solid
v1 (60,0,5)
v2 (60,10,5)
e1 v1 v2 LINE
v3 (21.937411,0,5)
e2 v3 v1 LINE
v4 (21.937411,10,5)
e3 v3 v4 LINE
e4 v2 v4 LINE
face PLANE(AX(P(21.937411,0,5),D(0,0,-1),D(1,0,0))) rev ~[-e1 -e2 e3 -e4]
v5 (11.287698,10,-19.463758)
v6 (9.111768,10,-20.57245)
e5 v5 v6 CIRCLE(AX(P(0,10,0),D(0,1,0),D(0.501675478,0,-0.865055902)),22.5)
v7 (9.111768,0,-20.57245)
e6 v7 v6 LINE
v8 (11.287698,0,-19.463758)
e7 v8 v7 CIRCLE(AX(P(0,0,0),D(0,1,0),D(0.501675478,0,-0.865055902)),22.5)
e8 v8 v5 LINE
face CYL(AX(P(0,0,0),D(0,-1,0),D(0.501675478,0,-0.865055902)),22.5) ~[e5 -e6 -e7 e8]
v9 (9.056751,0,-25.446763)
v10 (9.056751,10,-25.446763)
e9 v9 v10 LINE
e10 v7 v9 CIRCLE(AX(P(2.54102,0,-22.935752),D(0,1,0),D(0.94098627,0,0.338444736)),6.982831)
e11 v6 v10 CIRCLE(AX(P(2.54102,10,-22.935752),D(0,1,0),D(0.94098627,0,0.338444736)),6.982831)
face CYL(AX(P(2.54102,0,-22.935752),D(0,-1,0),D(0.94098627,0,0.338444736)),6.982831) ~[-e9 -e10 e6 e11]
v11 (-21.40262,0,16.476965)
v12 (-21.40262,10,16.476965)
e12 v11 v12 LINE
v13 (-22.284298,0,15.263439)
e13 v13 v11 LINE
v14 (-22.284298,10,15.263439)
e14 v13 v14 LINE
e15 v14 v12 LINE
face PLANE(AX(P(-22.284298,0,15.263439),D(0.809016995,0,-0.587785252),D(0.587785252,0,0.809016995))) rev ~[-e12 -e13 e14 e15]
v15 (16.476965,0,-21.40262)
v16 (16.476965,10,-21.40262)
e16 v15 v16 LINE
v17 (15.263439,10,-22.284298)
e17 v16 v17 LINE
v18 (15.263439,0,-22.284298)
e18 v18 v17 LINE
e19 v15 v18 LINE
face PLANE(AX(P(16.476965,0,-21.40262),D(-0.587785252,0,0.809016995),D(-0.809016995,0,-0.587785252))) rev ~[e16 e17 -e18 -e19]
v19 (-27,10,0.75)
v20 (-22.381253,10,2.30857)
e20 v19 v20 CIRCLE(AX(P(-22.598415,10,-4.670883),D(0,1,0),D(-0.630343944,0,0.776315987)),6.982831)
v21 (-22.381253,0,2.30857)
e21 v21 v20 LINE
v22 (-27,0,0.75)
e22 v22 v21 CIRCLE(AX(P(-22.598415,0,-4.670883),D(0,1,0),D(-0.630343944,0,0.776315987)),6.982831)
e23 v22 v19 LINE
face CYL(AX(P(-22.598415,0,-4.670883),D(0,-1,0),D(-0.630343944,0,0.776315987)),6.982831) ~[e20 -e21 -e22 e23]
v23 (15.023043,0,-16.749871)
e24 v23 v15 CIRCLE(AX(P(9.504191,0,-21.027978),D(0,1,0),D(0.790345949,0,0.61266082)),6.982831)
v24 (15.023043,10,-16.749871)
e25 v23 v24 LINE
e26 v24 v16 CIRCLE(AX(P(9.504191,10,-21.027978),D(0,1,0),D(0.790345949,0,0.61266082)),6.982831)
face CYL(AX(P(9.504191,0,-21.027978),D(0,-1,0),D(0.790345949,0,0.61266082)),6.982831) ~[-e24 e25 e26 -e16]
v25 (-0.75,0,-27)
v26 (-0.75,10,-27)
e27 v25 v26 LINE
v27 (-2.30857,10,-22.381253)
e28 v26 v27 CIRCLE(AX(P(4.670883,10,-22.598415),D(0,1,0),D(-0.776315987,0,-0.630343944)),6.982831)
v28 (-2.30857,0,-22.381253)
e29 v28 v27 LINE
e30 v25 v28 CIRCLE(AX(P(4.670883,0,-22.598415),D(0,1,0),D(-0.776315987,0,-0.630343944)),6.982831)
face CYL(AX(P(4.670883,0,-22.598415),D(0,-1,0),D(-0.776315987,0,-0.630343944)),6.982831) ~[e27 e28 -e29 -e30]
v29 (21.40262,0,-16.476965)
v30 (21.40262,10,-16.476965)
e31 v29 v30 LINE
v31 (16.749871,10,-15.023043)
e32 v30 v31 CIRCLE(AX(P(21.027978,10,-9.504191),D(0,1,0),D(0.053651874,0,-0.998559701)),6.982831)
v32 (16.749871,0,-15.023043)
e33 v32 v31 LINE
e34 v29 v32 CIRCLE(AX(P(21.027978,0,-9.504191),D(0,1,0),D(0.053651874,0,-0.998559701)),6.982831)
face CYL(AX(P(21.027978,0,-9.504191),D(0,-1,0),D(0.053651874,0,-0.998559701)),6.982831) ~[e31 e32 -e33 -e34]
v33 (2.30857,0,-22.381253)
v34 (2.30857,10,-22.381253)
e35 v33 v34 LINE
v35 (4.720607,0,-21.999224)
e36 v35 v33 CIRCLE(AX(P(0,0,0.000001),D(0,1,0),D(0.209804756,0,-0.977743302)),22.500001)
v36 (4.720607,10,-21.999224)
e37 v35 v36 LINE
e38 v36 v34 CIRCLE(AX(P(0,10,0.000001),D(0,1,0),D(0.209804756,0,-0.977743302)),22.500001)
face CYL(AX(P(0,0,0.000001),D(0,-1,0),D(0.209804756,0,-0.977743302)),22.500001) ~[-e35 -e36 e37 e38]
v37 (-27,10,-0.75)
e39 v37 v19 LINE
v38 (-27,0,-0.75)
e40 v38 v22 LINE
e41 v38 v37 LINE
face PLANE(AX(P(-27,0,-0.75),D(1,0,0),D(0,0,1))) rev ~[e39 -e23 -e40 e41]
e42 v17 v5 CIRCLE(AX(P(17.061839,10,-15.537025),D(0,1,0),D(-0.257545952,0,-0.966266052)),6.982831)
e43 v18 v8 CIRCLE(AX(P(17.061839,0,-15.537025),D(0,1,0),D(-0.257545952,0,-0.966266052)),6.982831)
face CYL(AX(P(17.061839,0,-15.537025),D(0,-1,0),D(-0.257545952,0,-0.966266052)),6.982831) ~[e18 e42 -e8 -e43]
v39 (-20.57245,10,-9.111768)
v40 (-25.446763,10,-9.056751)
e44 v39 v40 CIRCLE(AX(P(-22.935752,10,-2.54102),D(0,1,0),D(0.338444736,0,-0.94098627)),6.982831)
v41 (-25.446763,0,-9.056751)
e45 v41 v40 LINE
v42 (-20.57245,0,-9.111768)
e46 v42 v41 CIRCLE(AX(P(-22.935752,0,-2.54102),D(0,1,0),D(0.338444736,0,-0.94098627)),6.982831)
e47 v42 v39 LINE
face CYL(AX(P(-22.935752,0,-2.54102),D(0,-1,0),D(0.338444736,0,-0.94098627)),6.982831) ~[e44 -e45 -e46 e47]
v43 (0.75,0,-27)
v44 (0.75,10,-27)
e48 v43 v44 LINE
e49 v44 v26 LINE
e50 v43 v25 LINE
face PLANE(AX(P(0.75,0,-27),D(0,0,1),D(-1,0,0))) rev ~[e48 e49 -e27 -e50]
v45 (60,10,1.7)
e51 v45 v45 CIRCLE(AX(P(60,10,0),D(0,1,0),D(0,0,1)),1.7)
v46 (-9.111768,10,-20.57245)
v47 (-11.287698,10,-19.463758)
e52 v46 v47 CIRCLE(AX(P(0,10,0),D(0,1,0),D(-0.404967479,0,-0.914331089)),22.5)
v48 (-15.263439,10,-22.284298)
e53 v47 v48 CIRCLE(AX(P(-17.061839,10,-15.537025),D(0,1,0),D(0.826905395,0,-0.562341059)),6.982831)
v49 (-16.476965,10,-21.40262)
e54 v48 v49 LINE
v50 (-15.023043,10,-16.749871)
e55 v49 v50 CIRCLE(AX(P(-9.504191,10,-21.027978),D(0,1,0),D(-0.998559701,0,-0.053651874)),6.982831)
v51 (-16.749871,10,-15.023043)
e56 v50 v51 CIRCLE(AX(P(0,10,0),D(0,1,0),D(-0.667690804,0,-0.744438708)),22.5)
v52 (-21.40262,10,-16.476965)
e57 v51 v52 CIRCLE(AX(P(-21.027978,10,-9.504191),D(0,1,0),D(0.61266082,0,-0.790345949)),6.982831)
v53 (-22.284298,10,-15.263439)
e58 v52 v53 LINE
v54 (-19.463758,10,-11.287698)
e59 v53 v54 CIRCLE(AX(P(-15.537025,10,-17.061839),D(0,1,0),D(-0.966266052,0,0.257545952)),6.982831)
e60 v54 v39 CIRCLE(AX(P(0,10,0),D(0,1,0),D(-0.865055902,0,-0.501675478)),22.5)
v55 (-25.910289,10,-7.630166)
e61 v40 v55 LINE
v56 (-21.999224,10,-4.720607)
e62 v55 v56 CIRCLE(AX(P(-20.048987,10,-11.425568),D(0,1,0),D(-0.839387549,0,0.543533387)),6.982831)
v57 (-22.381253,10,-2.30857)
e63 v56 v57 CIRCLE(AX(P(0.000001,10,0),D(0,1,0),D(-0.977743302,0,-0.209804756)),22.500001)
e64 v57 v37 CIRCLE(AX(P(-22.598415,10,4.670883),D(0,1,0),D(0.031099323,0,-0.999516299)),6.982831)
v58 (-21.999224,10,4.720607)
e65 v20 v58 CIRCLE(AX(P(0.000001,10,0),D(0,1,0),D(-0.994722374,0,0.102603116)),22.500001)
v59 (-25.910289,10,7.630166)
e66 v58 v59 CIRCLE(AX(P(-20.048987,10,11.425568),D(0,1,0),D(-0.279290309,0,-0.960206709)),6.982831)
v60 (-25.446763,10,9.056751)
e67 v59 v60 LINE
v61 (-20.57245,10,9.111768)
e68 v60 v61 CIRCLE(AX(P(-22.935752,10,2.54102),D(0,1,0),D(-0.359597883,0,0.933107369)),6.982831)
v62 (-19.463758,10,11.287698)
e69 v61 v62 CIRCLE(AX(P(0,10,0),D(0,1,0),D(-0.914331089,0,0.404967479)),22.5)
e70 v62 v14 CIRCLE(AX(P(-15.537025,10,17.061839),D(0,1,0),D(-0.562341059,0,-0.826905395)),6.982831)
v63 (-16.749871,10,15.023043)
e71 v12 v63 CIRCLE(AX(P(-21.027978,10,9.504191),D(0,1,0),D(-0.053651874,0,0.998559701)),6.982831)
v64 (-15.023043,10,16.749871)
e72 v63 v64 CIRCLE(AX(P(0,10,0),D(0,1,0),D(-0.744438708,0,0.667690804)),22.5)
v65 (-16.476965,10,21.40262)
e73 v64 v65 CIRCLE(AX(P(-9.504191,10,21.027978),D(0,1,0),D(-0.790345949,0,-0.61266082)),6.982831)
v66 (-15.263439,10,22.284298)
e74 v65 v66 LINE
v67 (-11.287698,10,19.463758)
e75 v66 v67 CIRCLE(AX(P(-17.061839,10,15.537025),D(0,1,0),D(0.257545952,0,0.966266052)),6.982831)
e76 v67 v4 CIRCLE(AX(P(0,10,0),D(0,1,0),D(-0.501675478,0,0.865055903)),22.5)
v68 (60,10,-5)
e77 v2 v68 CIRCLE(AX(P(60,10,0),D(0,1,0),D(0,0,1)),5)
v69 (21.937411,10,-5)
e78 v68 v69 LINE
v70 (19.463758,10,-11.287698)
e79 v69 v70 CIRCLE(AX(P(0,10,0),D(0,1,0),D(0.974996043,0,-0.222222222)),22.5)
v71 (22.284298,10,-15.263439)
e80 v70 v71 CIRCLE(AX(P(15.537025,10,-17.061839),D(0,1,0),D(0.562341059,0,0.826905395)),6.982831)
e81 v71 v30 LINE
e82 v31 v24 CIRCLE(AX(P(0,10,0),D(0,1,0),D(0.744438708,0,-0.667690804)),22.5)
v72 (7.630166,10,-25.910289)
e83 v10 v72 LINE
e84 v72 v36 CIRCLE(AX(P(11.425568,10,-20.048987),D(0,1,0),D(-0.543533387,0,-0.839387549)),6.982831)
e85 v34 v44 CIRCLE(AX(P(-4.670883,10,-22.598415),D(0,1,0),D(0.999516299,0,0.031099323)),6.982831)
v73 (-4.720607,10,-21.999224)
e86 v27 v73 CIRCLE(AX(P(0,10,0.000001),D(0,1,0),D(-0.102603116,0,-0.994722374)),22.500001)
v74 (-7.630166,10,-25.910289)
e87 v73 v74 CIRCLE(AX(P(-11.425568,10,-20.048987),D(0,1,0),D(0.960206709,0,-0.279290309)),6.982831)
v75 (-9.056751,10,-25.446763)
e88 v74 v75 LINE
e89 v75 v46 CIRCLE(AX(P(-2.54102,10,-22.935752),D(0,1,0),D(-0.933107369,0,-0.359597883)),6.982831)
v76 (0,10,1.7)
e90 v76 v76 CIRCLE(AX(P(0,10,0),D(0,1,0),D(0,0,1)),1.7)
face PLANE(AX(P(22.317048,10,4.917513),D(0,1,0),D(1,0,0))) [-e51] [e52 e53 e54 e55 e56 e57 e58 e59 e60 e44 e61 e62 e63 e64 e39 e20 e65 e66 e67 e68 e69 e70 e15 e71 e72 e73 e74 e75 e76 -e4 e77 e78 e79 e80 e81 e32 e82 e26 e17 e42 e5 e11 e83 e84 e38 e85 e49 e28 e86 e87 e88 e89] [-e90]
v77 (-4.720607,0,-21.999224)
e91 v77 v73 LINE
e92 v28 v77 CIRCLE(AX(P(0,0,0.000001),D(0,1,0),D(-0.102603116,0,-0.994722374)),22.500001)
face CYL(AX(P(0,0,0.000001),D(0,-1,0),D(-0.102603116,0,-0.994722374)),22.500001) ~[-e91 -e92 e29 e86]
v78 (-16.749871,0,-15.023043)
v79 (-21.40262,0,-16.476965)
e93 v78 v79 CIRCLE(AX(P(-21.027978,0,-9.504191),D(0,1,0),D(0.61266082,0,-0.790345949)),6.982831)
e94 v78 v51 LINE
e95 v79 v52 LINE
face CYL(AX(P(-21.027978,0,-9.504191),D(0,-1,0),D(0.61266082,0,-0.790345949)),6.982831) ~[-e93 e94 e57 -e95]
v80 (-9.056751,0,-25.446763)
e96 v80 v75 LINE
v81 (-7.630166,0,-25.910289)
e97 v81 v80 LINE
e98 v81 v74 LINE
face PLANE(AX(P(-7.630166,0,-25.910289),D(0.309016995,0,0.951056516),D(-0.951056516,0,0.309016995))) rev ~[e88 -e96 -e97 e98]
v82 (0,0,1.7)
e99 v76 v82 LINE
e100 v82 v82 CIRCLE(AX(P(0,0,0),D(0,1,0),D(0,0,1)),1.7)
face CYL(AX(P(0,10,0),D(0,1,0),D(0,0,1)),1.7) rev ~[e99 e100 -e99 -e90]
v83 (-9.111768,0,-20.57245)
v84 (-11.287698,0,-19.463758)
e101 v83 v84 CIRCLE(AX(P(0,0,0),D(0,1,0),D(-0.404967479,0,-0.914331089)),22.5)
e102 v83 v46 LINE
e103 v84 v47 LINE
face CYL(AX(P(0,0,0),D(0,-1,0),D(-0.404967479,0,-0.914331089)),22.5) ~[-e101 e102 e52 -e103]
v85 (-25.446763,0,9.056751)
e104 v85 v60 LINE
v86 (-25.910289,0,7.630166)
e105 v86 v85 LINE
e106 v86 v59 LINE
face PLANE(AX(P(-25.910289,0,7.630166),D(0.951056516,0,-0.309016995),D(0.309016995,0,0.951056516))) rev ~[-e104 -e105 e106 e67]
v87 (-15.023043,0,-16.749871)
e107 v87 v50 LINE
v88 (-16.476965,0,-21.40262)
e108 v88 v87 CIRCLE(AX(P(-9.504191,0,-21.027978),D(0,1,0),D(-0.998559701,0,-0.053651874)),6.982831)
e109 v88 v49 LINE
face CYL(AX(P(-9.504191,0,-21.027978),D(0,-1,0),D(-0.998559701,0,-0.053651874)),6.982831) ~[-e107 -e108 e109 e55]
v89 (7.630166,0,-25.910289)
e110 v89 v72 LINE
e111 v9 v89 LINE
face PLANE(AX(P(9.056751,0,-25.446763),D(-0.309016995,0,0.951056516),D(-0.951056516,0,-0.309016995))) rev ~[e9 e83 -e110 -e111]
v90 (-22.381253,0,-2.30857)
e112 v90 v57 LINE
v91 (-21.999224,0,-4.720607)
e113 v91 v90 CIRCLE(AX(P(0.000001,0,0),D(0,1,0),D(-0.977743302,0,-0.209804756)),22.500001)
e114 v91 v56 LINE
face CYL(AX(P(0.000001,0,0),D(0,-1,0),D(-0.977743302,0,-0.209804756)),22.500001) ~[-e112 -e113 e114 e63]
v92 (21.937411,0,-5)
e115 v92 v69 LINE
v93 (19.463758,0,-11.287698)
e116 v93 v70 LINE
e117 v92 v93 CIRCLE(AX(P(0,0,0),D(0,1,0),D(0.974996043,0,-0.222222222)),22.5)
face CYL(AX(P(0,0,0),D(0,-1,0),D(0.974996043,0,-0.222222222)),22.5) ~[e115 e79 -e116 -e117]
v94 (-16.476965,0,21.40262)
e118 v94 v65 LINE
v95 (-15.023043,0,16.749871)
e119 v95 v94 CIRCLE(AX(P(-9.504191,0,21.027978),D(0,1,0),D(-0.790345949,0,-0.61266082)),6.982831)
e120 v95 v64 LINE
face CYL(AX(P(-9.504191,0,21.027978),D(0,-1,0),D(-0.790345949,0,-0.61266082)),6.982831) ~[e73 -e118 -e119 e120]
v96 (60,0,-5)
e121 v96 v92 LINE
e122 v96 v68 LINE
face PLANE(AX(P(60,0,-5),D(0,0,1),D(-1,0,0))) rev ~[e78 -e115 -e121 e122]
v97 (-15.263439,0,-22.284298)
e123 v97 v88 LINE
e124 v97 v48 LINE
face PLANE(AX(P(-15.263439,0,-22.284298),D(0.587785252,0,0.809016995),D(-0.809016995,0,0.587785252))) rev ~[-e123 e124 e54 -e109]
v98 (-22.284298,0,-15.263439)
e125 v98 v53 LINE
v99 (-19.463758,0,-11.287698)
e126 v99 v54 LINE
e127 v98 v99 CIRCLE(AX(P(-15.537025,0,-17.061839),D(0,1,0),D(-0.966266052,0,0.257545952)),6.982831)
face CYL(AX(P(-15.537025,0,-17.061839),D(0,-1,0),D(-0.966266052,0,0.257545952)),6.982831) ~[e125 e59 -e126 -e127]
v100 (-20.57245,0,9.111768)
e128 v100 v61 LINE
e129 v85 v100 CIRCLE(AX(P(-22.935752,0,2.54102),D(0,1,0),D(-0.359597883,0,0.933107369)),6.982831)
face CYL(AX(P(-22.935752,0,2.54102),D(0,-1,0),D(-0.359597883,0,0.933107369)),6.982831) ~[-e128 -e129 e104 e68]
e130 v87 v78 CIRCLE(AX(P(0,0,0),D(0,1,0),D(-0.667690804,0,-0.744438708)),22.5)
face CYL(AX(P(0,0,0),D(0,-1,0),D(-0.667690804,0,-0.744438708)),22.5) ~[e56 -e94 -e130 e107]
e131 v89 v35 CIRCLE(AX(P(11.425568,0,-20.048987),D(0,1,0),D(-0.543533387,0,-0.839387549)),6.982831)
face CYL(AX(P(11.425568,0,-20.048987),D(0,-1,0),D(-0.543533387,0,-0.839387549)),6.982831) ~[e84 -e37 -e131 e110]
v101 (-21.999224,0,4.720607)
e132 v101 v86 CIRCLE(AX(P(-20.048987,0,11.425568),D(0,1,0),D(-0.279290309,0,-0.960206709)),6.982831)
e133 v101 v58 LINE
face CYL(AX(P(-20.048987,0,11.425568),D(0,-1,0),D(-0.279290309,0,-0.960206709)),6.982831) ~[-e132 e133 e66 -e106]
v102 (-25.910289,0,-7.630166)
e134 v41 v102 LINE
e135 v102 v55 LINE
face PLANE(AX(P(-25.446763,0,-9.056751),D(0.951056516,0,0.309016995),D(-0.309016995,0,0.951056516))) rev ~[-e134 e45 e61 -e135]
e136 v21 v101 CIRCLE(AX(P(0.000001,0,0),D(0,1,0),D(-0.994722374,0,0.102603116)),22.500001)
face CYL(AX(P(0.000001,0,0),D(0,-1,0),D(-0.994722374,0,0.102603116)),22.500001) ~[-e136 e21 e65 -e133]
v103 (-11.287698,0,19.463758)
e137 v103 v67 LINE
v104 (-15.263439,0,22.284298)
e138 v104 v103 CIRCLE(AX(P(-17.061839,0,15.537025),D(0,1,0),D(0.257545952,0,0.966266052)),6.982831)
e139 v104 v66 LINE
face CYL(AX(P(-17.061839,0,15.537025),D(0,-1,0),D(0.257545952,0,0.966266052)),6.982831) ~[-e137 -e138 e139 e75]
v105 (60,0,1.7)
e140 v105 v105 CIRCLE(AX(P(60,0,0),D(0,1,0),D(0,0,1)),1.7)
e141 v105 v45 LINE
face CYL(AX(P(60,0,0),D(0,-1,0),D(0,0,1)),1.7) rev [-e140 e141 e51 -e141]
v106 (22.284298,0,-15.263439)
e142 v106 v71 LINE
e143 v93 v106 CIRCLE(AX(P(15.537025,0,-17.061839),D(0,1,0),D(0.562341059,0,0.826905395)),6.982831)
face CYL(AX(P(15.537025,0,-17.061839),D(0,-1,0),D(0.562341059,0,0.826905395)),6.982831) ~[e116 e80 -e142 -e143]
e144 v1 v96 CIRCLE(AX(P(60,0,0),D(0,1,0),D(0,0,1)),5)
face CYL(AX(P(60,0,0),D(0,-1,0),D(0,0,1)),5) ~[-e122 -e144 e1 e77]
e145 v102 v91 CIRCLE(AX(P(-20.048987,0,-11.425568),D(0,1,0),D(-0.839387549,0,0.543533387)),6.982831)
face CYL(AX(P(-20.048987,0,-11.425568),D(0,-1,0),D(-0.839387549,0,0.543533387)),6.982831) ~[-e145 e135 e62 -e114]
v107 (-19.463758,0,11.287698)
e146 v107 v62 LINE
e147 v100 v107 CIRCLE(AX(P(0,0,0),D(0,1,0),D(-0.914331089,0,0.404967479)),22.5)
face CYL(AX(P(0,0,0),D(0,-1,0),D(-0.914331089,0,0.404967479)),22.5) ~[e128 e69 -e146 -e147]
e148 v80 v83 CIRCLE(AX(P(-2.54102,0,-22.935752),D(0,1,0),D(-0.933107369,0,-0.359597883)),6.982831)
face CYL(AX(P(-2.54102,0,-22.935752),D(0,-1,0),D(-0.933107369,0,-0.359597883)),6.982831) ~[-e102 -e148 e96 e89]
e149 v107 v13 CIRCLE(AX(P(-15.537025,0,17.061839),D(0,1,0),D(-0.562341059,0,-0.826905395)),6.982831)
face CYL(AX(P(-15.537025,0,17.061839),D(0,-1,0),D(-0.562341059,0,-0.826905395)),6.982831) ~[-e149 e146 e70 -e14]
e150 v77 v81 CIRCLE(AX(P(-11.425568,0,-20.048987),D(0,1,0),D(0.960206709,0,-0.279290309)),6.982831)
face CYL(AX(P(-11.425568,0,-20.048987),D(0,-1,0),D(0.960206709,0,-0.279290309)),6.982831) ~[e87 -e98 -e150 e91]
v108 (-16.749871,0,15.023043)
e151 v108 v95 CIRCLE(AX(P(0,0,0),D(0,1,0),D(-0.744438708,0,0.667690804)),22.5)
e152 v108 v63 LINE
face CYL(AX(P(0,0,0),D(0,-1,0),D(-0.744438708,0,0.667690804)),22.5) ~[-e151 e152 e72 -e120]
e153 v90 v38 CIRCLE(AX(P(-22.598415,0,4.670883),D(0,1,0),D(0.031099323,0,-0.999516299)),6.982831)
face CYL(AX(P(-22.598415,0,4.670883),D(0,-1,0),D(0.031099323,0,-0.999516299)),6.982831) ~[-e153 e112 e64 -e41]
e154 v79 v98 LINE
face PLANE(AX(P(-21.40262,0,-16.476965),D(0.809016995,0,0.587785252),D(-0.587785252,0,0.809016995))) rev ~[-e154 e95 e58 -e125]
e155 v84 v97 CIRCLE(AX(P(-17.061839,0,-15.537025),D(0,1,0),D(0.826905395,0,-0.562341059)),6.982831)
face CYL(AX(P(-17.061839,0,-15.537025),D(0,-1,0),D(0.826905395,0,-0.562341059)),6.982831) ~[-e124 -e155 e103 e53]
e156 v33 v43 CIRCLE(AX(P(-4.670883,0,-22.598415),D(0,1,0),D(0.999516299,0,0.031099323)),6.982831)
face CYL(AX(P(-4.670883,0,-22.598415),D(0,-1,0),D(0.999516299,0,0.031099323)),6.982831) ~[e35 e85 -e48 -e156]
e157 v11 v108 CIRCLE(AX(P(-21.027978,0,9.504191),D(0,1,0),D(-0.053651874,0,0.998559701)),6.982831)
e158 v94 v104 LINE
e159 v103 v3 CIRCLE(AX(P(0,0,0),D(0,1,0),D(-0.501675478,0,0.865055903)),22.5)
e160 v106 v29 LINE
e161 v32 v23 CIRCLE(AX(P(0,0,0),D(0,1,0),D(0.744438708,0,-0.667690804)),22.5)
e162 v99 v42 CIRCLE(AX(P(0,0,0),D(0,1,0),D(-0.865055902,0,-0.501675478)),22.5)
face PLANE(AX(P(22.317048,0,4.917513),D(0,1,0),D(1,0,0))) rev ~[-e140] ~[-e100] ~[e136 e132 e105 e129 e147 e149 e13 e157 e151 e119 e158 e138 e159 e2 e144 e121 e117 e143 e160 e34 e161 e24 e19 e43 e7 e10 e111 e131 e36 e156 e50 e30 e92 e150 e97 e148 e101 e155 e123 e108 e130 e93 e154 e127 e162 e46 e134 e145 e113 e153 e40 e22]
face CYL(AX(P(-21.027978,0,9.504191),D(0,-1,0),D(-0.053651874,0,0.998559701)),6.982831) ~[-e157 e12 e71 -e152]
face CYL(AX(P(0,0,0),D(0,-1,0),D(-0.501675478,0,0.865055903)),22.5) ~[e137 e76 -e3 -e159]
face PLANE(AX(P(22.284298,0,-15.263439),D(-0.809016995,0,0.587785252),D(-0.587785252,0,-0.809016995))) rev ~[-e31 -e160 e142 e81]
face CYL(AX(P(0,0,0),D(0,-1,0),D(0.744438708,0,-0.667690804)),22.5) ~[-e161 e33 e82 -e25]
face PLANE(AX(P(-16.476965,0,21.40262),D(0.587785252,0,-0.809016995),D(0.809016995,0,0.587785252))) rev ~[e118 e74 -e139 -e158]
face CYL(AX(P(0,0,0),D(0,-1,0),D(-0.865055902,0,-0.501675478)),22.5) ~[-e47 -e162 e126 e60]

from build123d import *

# Parameters (mm, degrees)
SKETCH2_R           = 1.7
BOSS_EXTRUDE1_DEPTH = 10
BOSS_EXTRUDE2_DEPTH = 10
SKETCH3_R           = 1.7
CUT_EXTRUDE1_DEPTH  = 72.091490349


with BuildPart() as part:
    # Sketch2 → Boss-Extrude1 (new body)
    with BuildSketch(Plane(origin=(0, 0, 0), x_dir=(1, 0, 0), z_dir=(0, 1, 0))):
        with BuildLine():
            ThreePointArc((60, -5), (65, 0), (60, 5))
            Line((60, 5), (21.937410968, 5))
            ThreePointArc((21.937410968, 5), (20.937955519, 8.237233678), (19.463757806, 11.287698262))
            ThreePointArc((19.463757806, 11.287698262), (21.232218388, 13.021454794), (22.284297787, 15.263439066))
            Line((22.284297787, 15.263439066), (21.402619909, 16.476964558))
            ThreePointArc((21.402619909, 16.476964558), (18.945255744, 16.16918883), (16.749870923, 15.023043103))
            ThreePointArc((16.749870923, 15.023043103), (15.909902577, 15.909902577), (15.023043103, 16.749870923))
            ThreePointArc((15.023043103, 16.749870923), (16.16918883, 18.945255744), (16.476964558, 21.402619909))
            Line((16.476964558, 21.402619909), (15.263439066, 22.284297787))
            ThreePointArc((15.263439066, 22.284297787), (13.021454794, 21.232218388), (11.287698262, 19.463757806))
            ThreePointArc((11.287698262, 19.463757806), (10.214786244, 20.047646794), (9.111768269, 20.572449514))
            ThreePointArc((9.111768269, 20.572449514), (9.523406413, 23.014563062), (9.056751235, 25.446763194))
            Line((9.056751235, 25.446763194), (7.630166461, 25.910288686))
            ThreePointArc((7.630166461, 25.910288686), (5.823023123, 24.216890476), (4.72060705, 21.999224284))
            ThreePointArc((4.72060705, 21.999224284), (3.519775463, 22.222987663), (2.308570071, 22.381253411))
            ThreePointArc((2.308570071, 22.381253411), (1.945406622, 24.831044595), (0.75, 27))
            Line((0.75, 27), (-0.75, 27))
            ThreePointArc((-0.75, 27), (-1.945406622, 24.831044595), (-2.308570071, 22.381253411))
            ThreePointArc((-2.308570071, 22.381253411), (-3.519775463, 22.222987663), (-4.72060705, 21.999224284))
            ThreePointArc((-4.72060705, 21.999224284), (-5.823023123, 24.216890476), (-7.630166461, 25.910288686))
            Line((-7.630166461, 25.910288686), (-9.056751235, 25.446763194))
            ThreePointArc((-9.056751235, 25.446763194), (-9.523406413, 23.014563062), (-9.111768269, 20.572449514))
            ThreePointArc((-9.111768269, 20.572449514), (-10.214786244, 20.047646794), (-11.287698262, 19.463757806))
            ThreePointArc((-11.287698262, 19.463757806), (-13.021454794, 21.232218388), (-15.263439066, 22.284297787))
            Line((-15.263439066, 22.284297787), (-16.476964558, 21.402619909))
            ThreePointArc((-16.476964558, 21.402619909), (-16.16918883, 18.945255744), (-15.023043103, 16.749870923))
            ThreePointArc((-15.023043103, 16.749870923), (-15.909902577, 15.909902577), (-16.749870923, 15.023043103))
            ThreePointArc((-16.749870923, 15.023043103), (-18.945255744, 16.16918883), (-21.402619909, 16.476964558))
            Line((-21.402619909, 16.476964558), (-22.284297787, 15.263439066))
            ThreePointArc((-22.284297787, 15.263439066), (-21.232218388, 13.021454794), (-19.463757806, 11.287698262))
            ThreePointArc((-19.463757806, 11.287698262), (-20.047646794, 10.214786244), (-20.572449514, 9.111768269))
            ThreePointArc((-20.572449514, 9.111768269), (-23.014563062, 9.523406413), (-25.446763194, 9.056751235))
            Line((-25.446763194, 9.056751235), (-25.910288686, 7.630166461))
            ThreePointArc((-25.910288686, 7.630166461), (-24.216890476, 5.823023123), (-21.999224284, 4.72060705))
            ThreePointArc((-21.999224284, 4.72060705), (-22.222987663, 3.519775463), (-22.381253411, 2.308570071))
            ThreePointArc((-22.381253411, 2.308570071), (-24.831044595, 1.945406622), (-27, 0.75))
            Line((-27, 0.75), (-27, -0.75))
            ThreePointArc((-27, -0.75), (-24.831044595, -1.945406622), (-22.381253411, -2.308570071))
            ThreePointArc((-22.381253411, -2.308570071), (-22.222987663, -3.519775463), (-21.999224284, -4.72060705))
            ThreePointArc((-21.999224284, -4.72060705), (-24.216890476, -5.823023123), (-25.910288686, -7.630166461))
            Line((-25.910288686, -7.630166461), (-25.446763194, -9.056751235))
            ThreePointArc((-25.446763194, -9.056751235), (-23.014563062, -9.523406413), (-20.572449514, -9.111768269))
            ThreePointArc((-20.572449514, -9.111768269), (-20.047646794, -10.214786244), (-19.463757806, -11.287698262))
            ThreePointArc((-19.463757806, -11.287698262), (-21.232218388, -13.021454794), (-22.284297787, -15.263439066))
            Line((-22.284297787, -15.263439066), (-21.402619909, -16.476964558))
            ThreePointArc((-21.402619909, -16.476964558), (-18.945255744, -16.16918883), (-16.749870923, -15.023043103))
            ThreePointArc((-16.749870923, -15.023043103), (-15.909902577, -15.909902577), (-15.023043103, -16.749870923))
            ThreePointArc((-15.023043103, -16.749870923), (-16.16918883, -18.945255744), (-16.476964558, -21.402619909))
            Line((-16.476964558, -21.402619909), (-15.263439066, -22.284297787))
            ThreePointArc((-15.263439066, -22.284297787), (-13.021454794, -21.232218388), (-11.287698262, -19.463757806))
            ThreePointArc((-11.287698262, -19.463757806), (9.111768269, -20.572449514), (21.999224284, -4.72060705))
            ThreePointArc((21.999224284, -4.72060705), (22.395016771, -4.848633199), (22.782483518, -5))
            Line((22.782483518, -5), (60, -5))
        make_face()
        with BuildLine():
            ThreePointArc((22.381253411, 2.308570071), (24.831044595, 1.945406622), (27, 0.75))
            Line((27, 0.75), (27, -0.75))
            ThreePointArc((27, -0.75), (24.831044595, -1.945406622), (22.381253411, -2.308570071))
            ThreePointArc((22.381253411, -2.308570071), (22.5, 0), (22.381253411, 2.308570071))
        make_face(mode=Mode.SUBTRACT)
        with Locations(Location((60, 0, 0), (0, 0, 270))):
            Circle(SKETCH2_R, mode=Mode.SUBTRACT)
    extrude(amount=BOSS_EXTRUDE1_DEPTH)

    # Sketch2<7> → Boss-Extrude2 (add)
    with BuildSketch(Plane(origin=(0, 0, 0), x_dir=(1, 0, 0), z_dir=(0, 1, 0))):
        with BuildLine():
            Line((21.937410968, -5), (22.782483518, -5))
            ThreePointArc((22.782483518, -5), (22.395016771, -4.848633199), (21.999224284, -4.72060705))
            ThreePointArc((21.999224284, -4.72060705), (21.968761786, -4.860401792), (21.937410968, -5))
        make_face()
        with BuildLine():
            ThreePointArc((27, 0.75), (24.831044595, 1.945406622), (22.381253411, 2.308570071))
            ThreePointArc((22.381253411, 2.308570071), (22.5, 0), (22.381253411, -2.308570071))
            ThreePointArc((22.381253411, -2.308570071), (24.831044595, -1.945406622), (27, -0.75))
            Line((27, -0.75), (27, 0.75))
        make_face()
    extrude(amount=BOSS_EXTRUDE2_DEPTH)

    # Sketch3 → Cut-Extrude1 (cut, through all)
    with BuildSketch(Plane(origin=(0, 10, 0), x_dir=(1, 0, 0), z_dir=(0, 1, 0))):
        with Locations(Location((0, 0, 0), (0, 0, 270))):
            Circle(SKETCH3_R)
    extrude(amount=-CUT_EXTRUDE1_DEPTH, mode=Mode.SUBTRACT)


solid = part.part
